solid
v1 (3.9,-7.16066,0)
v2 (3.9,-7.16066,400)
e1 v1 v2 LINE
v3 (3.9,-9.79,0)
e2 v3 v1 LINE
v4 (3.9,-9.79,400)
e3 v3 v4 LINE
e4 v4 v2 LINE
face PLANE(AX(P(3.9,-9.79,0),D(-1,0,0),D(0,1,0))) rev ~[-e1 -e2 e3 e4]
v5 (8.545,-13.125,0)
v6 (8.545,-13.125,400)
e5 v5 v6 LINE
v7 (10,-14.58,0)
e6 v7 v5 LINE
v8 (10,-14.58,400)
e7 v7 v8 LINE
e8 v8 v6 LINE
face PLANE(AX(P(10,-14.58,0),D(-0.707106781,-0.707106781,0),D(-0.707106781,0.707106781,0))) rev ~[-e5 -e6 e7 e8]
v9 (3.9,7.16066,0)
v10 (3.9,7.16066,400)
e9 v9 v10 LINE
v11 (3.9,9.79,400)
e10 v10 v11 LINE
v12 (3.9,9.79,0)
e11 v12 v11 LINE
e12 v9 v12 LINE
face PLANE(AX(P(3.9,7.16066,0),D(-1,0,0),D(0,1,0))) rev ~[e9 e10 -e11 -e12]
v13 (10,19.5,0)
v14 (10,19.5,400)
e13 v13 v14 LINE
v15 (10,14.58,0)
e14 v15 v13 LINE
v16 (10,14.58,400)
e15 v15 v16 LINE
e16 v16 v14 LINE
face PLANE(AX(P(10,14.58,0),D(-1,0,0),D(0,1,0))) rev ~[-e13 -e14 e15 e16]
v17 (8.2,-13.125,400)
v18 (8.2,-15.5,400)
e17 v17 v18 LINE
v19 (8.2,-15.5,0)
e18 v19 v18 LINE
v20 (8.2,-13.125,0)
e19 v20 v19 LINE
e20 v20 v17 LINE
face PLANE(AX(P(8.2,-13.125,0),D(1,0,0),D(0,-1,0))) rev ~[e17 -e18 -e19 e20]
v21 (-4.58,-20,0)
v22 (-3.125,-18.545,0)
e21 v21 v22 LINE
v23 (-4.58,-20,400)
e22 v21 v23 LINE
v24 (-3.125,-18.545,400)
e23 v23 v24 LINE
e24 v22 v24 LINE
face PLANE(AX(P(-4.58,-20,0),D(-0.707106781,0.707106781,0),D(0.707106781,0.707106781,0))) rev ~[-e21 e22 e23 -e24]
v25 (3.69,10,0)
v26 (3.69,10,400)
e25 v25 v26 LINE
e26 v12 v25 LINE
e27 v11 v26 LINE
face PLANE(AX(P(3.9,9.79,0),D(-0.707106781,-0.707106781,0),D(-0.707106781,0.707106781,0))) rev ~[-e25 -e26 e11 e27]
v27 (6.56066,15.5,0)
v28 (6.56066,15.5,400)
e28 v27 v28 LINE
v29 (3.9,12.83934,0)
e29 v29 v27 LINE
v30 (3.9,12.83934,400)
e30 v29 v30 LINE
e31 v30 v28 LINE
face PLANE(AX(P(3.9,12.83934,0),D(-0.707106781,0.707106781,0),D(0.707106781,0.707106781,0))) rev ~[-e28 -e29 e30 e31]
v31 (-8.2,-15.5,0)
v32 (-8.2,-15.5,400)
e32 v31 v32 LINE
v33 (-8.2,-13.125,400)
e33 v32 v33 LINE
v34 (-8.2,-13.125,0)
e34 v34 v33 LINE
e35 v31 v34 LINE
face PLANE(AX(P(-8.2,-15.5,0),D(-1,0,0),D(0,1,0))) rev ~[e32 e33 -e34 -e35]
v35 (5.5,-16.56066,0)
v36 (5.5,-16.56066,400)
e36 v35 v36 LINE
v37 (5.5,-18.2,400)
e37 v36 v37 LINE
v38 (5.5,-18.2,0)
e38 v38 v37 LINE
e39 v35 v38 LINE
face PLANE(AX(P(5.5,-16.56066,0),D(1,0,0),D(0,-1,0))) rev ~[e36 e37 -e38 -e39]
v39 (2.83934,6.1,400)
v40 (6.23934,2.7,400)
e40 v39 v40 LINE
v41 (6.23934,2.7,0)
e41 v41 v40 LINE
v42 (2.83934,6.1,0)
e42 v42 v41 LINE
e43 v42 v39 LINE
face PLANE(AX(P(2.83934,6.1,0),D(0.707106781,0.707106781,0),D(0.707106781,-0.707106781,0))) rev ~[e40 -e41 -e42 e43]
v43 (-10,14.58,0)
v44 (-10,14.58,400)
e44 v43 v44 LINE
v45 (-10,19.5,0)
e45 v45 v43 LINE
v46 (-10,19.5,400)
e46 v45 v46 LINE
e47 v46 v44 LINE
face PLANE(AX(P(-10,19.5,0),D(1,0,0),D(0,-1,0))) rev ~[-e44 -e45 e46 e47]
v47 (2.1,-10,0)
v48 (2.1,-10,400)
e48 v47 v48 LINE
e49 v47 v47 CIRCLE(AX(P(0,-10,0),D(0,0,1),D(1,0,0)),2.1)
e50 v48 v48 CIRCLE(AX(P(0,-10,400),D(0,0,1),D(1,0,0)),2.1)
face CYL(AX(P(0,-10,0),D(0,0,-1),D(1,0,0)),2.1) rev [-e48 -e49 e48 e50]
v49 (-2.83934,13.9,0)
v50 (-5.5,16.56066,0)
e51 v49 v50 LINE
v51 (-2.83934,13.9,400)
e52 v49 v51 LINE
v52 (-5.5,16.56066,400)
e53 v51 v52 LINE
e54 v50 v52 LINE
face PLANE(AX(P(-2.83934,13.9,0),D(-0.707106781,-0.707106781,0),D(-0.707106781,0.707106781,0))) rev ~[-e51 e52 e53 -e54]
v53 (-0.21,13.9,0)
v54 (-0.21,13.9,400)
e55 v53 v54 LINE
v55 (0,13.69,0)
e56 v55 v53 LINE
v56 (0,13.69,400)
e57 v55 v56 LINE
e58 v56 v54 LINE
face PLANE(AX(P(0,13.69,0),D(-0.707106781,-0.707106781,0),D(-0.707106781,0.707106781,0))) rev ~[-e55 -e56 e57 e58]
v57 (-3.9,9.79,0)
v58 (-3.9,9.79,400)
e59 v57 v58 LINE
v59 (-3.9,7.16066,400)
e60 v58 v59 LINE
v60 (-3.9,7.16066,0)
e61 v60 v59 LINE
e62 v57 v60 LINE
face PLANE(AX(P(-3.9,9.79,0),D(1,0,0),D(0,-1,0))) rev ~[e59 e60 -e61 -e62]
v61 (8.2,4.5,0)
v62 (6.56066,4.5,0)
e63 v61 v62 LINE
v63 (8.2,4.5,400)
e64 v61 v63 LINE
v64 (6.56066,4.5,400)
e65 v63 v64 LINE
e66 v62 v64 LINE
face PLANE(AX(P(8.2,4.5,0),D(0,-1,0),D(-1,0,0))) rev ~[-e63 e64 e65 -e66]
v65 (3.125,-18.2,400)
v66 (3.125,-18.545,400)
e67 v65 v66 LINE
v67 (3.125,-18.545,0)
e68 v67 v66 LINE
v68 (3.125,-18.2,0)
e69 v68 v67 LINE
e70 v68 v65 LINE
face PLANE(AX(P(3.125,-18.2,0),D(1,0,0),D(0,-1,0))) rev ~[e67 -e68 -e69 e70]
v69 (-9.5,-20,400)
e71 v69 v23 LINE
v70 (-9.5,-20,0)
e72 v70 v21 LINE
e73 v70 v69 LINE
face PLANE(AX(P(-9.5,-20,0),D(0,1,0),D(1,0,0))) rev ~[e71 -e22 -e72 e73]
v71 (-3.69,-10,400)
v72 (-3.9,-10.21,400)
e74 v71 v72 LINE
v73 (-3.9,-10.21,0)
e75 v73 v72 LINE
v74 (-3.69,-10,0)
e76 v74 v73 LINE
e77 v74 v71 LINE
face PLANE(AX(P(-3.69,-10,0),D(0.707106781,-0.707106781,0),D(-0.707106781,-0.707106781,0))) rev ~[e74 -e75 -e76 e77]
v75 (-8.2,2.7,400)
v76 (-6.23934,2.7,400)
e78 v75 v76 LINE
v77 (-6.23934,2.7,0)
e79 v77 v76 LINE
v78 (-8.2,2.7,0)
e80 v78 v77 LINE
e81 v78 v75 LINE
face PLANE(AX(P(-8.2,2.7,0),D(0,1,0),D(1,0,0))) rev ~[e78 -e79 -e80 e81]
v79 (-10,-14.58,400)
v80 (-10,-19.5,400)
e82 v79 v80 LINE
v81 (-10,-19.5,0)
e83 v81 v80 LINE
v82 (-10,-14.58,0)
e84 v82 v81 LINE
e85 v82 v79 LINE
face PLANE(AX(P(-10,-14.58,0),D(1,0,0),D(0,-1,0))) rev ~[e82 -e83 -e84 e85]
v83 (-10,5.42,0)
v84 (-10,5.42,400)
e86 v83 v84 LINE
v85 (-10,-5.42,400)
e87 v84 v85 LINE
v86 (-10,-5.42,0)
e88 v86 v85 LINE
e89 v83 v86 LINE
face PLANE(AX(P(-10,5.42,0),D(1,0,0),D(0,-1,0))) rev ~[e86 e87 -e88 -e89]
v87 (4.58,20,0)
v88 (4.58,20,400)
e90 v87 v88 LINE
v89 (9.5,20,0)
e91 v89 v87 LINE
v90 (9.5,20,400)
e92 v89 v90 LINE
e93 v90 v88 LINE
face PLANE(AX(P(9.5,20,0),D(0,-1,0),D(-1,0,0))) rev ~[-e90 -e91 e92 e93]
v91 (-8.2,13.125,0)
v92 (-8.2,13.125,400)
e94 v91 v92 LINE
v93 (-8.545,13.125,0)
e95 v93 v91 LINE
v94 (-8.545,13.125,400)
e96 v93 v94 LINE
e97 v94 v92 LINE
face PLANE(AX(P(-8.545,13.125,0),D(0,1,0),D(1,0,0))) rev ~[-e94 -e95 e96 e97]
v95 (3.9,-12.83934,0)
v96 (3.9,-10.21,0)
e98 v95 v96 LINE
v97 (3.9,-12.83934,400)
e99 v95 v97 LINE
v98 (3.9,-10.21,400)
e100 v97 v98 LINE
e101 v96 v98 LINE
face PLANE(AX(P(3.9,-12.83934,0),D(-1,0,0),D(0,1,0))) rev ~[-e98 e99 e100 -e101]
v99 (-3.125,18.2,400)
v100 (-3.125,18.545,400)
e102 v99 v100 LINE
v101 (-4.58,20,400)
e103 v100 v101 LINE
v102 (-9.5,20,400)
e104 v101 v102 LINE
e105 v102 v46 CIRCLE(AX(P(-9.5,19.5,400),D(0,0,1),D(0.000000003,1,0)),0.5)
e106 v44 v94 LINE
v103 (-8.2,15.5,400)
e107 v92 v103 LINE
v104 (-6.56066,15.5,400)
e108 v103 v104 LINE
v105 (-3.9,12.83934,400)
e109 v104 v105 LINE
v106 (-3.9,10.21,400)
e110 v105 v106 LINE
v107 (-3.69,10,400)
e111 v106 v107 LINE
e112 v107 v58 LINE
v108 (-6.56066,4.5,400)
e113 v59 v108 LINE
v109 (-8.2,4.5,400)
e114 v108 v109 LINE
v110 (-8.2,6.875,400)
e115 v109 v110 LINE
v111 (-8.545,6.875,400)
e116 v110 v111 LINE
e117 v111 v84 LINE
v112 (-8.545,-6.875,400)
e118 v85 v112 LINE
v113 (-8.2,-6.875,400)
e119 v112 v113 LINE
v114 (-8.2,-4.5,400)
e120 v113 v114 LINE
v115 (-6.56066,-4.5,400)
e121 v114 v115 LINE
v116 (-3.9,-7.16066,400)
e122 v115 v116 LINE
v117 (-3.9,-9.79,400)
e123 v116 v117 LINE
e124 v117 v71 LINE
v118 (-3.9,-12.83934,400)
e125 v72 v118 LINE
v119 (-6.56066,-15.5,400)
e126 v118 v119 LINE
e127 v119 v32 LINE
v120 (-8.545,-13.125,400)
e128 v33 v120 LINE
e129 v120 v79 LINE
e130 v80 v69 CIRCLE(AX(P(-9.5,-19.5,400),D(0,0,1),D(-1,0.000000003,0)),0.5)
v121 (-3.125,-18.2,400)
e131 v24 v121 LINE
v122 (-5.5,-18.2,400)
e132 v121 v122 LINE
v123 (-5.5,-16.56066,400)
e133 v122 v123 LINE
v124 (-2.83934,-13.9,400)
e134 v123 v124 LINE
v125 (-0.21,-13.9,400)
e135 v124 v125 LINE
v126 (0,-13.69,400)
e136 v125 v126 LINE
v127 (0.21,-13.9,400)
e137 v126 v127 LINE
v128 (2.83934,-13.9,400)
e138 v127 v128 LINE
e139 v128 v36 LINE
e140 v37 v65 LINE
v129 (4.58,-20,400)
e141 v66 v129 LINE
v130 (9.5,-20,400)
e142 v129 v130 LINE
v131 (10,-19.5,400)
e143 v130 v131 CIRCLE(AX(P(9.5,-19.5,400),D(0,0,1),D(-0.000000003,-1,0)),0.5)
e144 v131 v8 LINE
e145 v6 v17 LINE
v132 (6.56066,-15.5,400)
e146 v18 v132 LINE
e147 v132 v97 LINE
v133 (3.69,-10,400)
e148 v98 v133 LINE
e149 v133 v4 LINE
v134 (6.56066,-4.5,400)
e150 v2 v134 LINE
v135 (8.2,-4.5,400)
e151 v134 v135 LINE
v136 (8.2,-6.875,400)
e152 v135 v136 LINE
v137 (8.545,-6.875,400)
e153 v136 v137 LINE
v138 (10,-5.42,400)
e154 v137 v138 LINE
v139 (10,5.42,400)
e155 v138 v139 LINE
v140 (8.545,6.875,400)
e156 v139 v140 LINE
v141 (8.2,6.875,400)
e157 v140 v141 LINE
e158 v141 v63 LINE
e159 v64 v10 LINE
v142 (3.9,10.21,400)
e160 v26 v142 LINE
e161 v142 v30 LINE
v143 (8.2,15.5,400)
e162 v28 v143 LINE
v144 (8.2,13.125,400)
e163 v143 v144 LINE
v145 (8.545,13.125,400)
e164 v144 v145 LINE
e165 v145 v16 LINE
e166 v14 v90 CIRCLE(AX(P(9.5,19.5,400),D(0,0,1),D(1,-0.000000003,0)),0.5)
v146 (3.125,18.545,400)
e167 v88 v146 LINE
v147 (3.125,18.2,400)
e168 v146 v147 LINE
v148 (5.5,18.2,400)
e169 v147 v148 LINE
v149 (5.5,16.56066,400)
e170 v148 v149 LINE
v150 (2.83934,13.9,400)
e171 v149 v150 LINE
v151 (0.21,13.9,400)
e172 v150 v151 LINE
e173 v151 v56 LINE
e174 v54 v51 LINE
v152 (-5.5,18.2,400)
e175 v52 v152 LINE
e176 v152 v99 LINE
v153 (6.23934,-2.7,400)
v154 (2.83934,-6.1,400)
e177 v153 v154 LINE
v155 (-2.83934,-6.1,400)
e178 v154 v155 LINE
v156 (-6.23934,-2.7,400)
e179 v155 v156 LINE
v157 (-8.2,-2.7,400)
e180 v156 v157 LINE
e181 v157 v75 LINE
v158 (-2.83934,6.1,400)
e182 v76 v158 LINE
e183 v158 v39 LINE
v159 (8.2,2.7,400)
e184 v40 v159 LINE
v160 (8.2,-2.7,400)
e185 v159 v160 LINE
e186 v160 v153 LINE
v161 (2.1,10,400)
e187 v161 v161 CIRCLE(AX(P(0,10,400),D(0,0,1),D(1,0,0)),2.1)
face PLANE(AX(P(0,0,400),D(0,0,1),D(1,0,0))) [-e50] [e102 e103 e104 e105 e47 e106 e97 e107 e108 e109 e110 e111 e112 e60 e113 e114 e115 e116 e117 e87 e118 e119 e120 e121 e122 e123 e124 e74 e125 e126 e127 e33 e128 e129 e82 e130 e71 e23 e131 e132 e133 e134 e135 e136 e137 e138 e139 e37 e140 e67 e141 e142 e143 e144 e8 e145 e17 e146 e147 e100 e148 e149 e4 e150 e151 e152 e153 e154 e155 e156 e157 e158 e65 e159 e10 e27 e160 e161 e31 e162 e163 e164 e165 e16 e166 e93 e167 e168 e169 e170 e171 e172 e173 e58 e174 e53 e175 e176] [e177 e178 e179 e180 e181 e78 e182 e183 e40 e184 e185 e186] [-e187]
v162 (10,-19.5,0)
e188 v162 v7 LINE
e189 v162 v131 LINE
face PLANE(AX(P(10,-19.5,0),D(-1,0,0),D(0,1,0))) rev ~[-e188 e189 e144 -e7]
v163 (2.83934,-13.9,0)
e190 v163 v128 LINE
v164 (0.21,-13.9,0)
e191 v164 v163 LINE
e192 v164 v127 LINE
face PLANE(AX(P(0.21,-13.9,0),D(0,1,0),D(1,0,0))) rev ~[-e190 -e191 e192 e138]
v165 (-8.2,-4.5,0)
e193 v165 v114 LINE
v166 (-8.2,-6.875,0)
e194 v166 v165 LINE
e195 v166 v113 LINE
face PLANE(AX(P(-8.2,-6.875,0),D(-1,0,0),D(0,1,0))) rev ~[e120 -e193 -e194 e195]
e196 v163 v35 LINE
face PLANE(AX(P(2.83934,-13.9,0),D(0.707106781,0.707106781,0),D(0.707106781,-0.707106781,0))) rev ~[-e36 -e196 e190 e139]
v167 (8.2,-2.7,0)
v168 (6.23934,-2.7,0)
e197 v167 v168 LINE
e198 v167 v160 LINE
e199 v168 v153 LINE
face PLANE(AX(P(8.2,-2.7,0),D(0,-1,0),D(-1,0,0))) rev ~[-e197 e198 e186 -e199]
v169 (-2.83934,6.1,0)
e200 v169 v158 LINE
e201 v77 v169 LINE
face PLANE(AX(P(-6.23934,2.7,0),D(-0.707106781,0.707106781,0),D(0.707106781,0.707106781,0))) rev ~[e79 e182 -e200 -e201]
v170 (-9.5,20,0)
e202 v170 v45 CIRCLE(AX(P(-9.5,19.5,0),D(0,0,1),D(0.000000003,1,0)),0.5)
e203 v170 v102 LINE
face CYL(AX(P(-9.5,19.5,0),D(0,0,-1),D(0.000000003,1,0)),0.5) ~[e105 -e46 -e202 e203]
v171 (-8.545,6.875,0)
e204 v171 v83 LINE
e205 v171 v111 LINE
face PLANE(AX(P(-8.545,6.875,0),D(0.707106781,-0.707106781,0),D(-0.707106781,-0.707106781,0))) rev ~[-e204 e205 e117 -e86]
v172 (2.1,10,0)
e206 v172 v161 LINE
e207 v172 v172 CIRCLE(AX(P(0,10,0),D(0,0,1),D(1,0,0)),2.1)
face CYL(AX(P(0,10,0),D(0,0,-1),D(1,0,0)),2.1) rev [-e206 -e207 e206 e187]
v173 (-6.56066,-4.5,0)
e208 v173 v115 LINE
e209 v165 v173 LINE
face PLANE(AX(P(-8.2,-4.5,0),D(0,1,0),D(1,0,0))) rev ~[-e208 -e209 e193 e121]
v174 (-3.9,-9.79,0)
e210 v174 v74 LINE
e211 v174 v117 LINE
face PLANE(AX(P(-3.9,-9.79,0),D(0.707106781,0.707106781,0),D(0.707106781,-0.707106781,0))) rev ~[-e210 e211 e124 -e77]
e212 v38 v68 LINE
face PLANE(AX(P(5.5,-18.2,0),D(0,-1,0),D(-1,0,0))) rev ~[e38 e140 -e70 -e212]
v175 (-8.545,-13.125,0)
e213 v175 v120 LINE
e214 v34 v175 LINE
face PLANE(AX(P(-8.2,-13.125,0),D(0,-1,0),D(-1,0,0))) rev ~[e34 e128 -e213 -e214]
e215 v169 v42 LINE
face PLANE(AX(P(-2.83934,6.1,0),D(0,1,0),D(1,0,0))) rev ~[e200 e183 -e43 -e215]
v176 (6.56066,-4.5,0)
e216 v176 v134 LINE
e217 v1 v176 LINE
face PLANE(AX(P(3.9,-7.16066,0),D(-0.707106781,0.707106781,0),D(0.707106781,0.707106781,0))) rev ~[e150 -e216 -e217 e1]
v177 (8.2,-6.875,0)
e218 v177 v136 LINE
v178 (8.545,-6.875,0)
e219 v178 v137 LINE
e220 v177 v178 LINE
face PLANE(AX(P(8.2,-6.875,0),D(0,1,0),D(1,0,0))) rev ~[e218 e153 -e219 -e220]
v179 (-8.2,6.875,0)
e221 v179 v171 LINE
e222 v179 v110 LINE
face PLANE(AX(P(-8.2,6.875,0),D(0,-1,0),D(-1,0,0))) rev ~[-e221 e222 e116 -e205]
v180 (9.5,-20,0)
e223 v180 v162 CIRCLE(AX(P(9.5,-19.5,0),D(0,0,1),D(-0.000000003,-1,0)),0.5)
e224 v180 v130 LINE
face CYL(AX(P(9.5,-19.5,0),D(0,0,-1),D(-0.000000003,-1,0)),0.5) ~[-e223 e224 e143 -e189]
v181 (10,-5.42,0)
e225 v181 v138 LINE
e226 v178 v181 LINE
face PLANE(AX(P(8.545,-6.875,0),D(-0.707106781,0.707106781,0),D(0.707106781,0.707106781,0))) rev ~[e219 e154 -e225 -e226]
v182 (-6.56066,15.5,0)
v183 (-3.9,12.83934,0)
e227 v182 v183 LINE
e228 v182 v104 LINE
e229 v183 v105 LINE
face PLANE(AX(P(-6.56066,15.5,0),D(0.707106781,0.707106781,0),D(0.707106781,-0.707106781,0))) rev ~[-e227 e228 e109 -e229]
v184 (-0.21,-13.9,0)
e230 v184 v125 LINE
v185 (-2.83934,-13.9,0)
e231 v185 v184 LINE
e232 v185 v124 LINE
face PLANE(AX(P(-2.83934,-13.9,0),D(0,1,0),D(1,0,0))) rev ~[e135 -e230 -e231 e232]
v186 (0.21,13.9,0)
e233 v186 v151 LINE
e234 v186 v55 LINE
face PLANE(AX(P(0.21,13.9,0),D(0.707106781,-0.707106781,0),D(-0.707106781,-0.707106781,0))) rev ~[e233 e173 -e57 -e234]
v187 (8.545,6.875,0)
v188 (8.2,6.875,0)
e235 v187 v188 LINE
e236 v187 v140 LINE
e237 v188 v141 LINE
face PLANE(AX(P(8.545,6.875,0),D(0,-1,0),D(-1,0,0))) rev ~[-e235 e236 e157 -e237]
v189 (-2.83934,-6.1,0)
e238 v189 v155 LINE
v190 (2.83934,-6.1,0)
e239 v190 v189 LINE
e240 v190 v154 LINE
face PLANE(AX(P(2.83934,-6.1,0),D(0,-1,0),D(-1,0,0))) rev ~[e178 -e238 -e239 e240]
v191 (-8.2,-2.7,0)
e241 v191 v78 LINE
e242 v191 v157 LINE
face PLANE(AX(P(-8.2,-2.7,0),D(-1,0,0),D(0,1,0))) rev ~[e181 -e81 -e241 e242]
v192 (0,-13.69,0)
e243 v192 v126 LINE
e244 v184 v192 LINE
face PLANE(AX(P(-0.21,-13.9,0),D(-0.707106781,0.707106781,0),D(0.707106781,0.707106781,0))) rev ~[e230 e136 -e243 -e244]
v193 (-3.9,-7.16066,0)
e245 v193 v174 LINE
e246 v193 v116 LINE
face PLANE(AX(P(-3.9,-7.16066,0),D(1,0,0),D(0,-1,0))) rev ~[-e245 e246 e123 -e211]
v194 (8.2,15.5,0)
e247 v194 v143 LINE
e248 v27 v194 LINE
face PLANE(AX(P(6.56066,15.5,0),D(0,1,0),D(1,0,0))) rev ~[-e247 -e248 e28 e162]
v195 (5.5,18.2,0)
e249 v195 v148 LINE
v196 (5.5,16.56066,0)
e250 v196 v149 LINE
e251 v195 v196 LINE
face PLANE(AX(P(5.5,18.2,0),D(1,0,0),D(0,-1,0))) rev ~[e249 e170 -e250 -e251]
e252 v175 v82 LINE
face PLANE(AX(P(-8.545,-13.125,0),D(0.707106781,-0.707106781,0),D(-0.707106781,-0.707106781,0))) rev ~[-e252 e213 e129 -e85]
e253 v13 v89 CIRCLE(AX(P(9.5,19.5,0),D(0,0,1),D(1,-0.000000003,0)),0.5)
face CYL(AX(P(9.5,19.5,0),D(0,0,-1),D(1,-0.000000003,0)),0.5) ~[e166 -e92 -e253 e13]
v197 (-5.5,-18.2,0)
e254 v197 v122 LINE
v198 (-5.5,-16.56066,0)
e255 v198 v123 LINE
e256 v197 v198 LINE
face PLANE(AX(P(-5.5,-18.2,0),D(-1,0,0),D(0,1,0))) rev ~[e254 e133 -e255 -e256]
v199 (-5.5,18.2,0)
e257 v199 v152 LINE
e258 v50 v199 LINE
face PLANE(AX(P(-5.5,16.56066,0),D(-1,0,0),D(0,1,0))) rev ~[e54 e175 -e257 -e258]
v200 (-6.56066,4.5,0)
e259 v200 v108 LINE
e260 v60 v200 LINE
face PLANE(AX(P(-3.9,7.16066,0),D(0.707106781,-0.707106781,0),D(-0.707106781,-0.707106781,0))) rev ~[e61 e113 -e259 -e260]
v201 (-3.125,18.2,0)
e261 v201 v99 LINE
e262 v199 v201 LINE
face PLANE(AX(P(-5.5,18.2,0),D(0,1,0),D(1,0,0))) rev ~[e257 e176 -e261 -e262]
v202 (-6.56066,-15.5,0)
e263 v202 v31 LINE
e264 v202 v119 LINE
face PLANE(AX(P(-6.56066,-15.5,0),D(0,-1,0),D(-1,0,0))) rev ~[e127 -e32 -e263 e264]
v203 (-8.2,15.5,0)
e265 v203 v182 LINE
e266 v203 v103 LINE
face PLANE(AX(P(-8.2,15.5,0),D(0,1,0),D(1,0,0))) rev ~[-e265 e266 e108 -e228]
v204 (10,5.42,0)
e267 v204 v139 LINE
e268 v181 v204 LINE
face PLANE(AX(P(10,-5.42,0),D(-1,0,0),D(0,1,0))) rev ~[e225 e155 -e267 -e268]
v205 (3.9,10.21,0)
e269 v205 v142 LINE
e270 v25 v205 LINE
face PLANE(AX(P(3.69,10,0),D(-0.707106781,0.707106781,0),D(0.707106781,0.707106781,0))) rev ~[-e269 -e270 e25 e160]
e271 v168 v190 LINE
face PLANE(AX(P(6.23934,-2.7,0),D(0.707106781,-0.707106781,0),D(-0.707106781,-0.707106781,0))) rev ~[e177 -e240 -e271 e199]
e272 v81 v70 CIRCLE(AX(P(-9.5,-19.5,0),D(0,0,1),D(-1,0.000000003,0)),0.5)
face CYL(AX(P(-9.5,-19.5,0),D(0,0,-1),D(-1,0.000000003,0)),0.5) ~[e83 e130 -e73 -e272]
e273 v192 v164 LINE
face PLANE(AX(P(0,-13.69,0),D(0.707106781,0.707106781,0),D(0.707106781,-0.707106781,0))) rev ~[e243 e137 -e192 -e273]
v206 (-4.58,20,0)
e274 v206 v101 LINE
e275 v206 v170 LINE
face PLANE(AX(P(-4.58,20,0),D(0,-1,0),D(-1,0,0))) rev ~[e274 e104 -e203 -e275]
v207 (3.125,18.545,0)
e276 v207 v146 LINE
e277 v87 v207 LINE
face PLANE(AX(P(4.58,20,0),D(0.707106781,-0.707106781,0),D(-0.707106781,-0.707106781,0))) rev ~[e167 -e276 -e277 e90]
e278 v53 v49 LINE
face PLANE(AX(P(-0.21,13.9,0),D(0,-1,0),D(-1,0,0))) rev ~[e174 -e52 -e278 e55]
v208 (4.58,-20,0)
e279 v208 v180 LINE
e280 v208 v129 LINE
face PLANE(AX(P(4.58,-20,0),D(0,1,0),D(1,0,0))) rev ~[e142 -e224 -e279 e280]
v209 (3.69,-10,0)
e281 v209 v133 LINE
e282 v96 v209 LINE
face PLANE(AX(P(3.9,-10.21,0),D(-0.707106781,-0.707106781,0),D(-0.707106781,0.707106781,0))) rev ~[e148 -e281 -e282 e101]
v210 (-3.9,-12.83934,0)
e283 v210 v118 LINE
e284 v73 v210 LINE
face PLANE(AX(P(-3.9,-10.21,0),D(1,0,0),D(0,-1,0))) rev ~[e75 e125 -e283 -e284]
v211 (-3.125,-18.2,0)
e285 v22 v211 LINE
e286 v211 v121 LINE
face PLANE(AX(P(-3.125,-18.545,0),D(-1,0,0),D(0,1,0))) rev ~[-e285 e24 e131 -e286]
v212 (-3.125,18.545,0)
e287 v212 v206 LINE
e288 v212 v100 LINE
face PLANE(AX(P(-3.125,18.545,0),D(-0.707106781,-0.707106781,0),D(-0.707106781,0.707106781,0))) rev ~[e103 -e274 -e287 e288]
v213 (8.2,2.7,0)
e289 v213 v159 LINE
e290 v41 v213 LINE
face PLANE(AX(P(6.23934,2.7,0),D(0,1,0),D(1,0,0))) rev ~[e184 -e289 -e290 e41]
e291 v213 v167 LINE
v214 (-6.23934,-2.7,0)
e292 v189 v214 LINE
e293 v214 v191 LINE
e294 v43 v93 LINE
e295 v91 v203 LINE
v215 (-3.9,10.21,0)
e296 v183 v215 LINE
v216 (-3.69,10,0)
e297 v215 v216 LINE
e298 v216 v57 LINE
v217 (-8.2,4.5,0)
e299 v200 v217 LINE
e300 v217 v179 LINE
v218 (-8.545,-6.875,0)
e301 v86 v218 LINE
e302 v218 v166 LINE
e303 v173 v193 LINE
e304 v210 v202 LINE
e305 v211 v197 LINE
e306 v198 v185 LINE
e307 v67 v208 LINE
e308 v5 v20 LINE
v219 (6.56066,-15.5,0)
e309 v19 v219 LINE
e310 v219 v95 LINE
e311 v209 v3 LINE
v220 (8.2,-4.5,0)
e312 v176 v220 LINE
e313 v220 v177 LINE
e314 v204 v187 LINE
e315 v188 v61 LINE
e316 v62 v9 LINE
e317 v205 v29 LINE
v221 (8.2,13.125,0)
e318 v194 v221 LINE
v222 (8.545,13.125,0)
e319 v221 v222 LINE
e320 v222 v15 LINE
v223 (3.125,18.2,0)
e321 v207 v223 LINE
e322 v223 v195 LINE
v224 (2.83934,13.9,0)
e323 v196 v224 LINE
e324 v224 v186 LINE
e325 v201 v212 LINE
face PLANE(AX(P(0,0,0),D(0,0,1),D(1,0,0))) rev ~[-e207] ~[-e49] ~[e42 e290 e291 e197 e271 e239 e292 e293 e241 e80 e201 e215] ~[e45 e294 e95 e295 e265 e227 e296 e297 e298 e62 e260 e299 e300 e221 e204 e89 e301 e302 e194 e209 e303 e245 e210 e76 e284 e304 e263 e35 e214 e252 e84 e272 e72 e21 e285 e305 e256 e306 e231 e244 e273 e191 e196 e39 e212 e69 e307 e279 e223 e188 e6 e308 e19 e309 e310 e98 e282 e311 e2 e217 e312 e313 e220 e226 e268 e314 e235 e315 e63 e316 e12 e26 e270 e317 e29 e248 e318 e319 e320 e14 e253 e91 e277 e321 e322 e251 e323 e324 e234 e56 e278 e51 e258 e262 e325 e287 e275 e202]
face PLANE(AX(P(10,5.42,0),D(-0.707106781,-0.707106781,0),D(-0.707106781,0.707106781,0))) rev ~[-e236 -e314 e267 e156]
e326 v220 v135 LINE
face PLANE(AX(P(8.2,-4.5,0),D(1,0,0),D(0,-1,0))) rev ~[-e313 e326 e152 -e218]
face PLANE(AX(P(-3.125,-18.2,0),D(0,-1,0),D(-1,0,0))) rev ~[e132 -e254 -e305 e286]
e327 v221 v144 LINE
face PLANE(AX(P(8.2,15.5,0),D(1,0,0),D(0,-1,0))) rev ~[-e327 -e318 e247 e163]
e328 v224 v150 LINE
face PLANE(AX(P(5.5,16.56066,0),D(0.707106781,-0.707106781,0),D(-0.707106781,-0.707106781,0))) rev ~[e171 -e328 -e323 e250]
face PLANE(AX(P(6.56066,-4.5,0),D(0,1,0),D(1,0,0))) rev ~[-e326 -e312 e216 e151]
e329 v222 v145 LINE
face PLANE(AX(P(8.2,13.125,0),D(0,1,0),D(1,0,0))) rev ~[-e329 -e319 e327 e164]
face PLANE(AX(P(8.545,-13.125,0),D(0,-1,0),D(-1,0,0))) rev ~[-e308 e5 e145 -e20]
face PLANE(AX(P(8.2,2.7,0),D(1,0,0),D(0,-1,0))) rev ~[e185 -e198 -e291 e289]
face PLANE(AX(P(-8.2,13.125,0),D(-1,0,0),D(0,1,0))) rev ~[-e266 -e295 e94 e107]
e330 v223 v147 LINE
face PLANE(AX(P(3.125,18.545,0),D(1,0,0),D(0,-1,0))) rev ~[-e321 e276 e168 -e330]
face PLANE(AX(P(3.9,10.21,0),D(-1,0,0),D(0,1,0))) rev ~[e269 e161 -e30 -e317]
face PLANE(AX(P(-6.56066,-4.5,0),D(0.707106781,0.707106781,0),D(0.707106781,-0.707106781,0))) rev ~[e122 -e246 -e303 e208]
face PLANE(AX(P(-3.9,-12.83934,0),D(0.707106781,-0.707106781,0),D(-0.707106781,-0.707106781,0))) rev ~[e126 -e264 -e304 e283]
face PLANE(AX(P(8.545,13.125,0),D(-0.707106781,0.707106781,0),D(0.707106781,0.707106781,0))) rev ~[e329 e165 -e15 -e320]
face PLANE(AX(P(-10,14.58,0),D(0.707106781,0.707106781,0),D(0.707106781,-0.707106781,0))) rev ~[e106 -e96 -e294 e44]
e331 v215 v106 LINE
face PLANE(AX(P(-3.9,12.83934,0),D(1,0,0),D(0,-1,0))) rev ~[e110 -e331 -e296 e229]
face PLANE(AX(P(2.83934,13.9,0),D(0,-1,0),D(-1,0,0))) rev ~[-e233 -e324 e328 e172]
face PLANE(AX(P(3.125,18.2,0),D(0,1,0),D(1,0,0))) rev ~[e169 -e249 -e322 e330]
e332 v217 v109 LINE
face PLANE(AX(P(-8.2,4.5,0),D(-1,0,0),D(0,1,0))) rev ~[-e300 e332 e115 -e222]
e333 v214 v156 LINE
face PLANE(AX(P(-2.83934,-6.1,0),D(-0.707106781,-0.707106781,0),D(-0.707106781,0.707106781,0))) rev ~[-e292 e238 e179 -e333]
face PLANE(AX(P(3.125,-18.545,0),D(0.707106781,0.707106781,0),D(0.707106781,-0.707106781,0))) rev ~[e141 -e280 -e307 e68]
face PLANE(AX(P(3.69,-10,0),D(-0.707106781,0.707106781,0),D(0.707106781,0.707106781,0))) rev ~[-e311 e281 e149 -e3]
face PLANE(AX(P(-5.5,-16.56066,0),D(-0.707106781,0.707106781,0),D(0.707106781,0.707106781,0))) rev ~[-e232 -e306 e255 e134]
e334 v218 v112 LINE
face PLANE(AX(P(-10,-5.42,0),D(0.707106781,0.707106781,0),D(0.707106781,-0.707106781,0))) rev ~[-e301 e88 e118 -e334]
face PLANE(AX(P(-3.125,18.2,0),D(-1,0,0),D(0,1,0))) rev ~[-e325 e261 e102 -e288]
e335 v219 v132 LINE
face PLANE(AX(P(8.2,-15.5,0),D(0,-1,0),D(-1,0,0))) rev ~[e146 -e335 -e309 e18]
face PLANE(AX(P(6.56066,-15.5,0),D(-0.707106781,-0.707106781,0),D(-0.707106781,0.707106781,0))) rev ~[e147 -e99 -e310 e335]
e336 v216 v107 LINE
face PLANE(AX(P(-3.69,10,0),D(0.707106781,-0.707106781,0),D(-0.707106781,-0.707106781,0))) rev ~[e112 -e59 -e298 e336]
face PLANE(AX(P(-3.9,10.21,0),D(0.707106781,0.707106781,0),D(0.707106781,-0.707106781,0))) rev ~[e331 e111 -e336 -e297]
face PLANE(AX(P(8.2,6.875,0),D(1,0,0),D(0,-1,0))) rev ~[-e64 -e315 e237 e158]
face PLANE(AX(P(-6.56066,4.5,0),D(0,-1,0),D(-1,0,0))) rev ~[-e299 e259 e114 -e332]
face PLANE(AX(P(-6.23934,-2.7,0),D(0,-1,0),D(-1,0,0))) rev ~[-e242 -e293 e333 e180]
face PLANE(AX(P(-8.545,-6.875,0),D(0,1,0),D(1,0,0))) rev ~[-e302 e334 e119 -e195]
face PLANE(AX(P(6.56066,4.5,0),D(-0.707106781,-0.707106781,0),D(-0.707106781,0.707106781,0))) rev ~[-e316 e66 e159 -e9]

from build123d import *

# Parameters (mm, degrees)
SKETCH1_R          = 2.1
EXTRUDE_2481_DEPTH = 400


with BuildPart() as part:
    # Sketch1 → Extrude 2481 (new body)
    with BuildSketch(Plane.XY):
        with BuildLine():
            Line((4.58, -20), (9.5, -20))
            ThreePointArc((9.5, -20), (9.853553391, -19.853553391), (10, -19.5))
            Line((10, -19.5), (10, -14.58))
            Line((10, -14.58), (8.545, -13.125))
            Line((8.545, -13.125), (8.2, -13.125))
            Line((8.2, -13.125), (8.2, -15.5))
            Line((8.2, -15.5), (6.560660172, -15.5))
            Line((6.560660172, -15.5), (3.9, -12.839339828))
            Line((3.9, -12.839339828), (3.9, -10.21))
            Line((3.9, -10.21), (3.69, -10))
            Line((3.69, -10), (3.9, -9.79))
            Line((3.9, -9.79), (3.9, -7.160660172))
            Line((3.9, -7.160660172), (6.560660172, -4.5))
            Line((6.560660172, -4.5), (8.2, -4.5))
            Line((8.2, -4.5), (8.2, -6.875))
            Line((8.2, -6.875), (8.545, -6.875))
            Line((8.545, -6.875), (10, -5.42))
            Line((10, -5.42), (10, 5.42))
            Line((10, 5.42), (8.545, 6.875))
            Line((8.545, 6.875), (8.2, 6.875))
            Line((8.2, 6.875), (8.2, 4.5))
            Line((8.2, 4.5), (6.560660172, 4.5))
            Line((6.560660172, 4.5), (3.9, 7.160660172))
            Line((3.9, 7.160660172), (3.9, 9.79))
            Line((3.9, 9.79), (3.69, 10))
            Line((3.69, 10), (3.9, 10.21))
            Line((3.9, 10.21), (3.9, 12.839339828))
            Line((3.9, 12.839339828), (6.560660172, 15.5))
            Line((6.560660172, 15.5), (8.2, 15.5))
            Line((8.2, 15.5), (8.2, 13.125))
            Line((8.2, 13.125), (8.545, 13.125))
            Line((8.545, 13.125), (10, 14.58))
            Line((10, 14.58), (10, 19.5))
            ThreePointArc((10, 19.5), (9.853553391, 19.853553391), (9.5, 20))
            Line((9.5, 20), (4.58, 20))
            Line((4.58, 20), (3.125, 18.545))
            Line((3.125, 18.545), (3.125, 18.2))
            Line((3.125, 18.2), (5.5, 18.2))
            Line((5.5, 18.2), (5.5, 16.560660172))
            Line((5.5, 16.560660172), (2.839339828, 13.9))
            Line((2.839339828, 13.9), (0.21, 13.9))
            Line((0.21, 13.9), (0, 13.69))
            Line((0, 13.69), (-0.21, 13.9))
            Line((-0.21, 13.9), (-2.839339828, 13.9))
            Line((-2.839339828, 13.9), (-5.5, 16.560660172))
            Line((-5.5, 16.560660172), (-5.5, 18.2))
            Line((-5.5, 18.2), (-3.125, 18.2))
            Line((-3.125, 18.2), (-3.125, 18.545))
            Line((-3.125, 18.545), (-4.58, 20))
            Line((-4.58, 20), (-9.5, 20))
            ThreePointArc((-9.5, 20), (-9.853553391, 19.853553391), (-10, 19.5))
            Line((-10, 19.5), (-10, 14.58))
            Line((-10, 14.58), (-8.545, 13.125))
            Line((-8.545, 13.125), (-8.2, 13.125))
            Line((-8.2, 13.125), (-8.2, 15.5))
            Line((-8.2, 15.5), (-6.560660172, 15.5))
            Line((-6.560660172, 15.5), (-3.9, 12.839339828))
            Line((-3.9, 12.839339828), (-3.9, 10.21))
            Line((-3.9, 10.21), (-3.69, 10))
            Line((-3.69, 10), (-3.9, 9.79))
            Line((-3.9, 9.79), (-3.9, 7.160660172))
            Line((-3.9, 7.160660172), (-6.560660172, 4.5))
            Line((-6.560660172, 4.5), (-8.2, 4.5))
            Line((-8.2, 4.5), (-8.2, 6.875))
            Line((-8.2, 6.875), (-8.545, 6.875))
            Line((-8.545, 6.875), (-10, 5.42))
            Line((-10, 5.42), (-10, -5.42))
            Line((-10, -5.42), (-8.545, -6.875))
            Line((-8.545, -6.875), (-8.2, -6.875))
            Line((-8.2, -6.875), (-8.2, -4.5))
            Line((-8.2, -4.5), (-6.560660172, -4.5))
            Line((-6.560660172, -4.5), (-3.9, -7.160660172))
            Line((-3.9, -7.160660172), (-3.9, -9.79))
            Line((-3.9, -9.79), (-3.69, -10))
            Line((-3.69, -10), (-3.9, -10.21))
            Line((-3.9, -10.21), (-3.9, -12.839339828))
            Line((-3.9, -12.839339828), (-6.560660172, -15.5))
            Line((-6.560660172, -15.5), (-8.2, -15.5))
            Line((-8.2, -15.5), (-8.2, -13.125))
            Line((-8.2, -13.125), (-8.545, -13.125))
            Line((-8.545, -13.125), (-10, -14.58))
            Line((-10, -14.58), (-10, -19.5))
            ThreePointArc((-10, -19.5), (-9.853553391, -19.853553391), (-9.5, -20))
            Line((-9.5, -20), (-4.58, -20))
            Line((-4.58, -20), (-3.125, -18.545))
            Line((-3.125, -18.545), (-3.125, -18.2))
            Line((-3.125, -18.2), (-5.5, -18.2))
            Line((-5.5, -18.2), (-5.5, -16.560660172))
            Line((-5.5, -16.560660172), (-2.839339828, -13.9))
            Line((-2.839339828, -13.9), (-0.21, -13.9))
            Line((-0.21, -13.9), (0, -13.69))
            Line((0, -13.69), (0.21, -13.9))
            Line((0.21, -13.9), (2.839339828, -13.9))
            Line((2.839339828, -13.9), (5.5, -16.560660172))
            Line((5.5, -16.560660172), (5.5, -18.2))
            Line((5.5, -18.2), (3.125, -18.2))
            Line((3.125, -18.2), (3.125, -18.545))
            Line((3.125, -18.545), (4.58, -20))
        make_face()
        with Locations((0, -10)):
            Circle(SKETCH1_R, mode=Mode.SUBTRACT)
        Polygon((-6.239339828, -2.7), (-8.2, -2.7), (-8.2, 2.7), (-6.239339828, 2.7), (-2.839339828, 6.1), (2.839339828, 6.1), (6.239339828, 2.7), (8.2, 2.7), (8.2, -2.7), (6.239339828, -2.7), (2.839339828, -6.1), (-2.839339828, -6.1), align=None, mode=Mode.SUBTRACT)
        with Locations((0, 10)):
            Circle(SKETCH1_R, mode=Mode.SUBTRACT)
    extrude(amount=EXTRUDE_2481_DEPTH)


solid = part.part
